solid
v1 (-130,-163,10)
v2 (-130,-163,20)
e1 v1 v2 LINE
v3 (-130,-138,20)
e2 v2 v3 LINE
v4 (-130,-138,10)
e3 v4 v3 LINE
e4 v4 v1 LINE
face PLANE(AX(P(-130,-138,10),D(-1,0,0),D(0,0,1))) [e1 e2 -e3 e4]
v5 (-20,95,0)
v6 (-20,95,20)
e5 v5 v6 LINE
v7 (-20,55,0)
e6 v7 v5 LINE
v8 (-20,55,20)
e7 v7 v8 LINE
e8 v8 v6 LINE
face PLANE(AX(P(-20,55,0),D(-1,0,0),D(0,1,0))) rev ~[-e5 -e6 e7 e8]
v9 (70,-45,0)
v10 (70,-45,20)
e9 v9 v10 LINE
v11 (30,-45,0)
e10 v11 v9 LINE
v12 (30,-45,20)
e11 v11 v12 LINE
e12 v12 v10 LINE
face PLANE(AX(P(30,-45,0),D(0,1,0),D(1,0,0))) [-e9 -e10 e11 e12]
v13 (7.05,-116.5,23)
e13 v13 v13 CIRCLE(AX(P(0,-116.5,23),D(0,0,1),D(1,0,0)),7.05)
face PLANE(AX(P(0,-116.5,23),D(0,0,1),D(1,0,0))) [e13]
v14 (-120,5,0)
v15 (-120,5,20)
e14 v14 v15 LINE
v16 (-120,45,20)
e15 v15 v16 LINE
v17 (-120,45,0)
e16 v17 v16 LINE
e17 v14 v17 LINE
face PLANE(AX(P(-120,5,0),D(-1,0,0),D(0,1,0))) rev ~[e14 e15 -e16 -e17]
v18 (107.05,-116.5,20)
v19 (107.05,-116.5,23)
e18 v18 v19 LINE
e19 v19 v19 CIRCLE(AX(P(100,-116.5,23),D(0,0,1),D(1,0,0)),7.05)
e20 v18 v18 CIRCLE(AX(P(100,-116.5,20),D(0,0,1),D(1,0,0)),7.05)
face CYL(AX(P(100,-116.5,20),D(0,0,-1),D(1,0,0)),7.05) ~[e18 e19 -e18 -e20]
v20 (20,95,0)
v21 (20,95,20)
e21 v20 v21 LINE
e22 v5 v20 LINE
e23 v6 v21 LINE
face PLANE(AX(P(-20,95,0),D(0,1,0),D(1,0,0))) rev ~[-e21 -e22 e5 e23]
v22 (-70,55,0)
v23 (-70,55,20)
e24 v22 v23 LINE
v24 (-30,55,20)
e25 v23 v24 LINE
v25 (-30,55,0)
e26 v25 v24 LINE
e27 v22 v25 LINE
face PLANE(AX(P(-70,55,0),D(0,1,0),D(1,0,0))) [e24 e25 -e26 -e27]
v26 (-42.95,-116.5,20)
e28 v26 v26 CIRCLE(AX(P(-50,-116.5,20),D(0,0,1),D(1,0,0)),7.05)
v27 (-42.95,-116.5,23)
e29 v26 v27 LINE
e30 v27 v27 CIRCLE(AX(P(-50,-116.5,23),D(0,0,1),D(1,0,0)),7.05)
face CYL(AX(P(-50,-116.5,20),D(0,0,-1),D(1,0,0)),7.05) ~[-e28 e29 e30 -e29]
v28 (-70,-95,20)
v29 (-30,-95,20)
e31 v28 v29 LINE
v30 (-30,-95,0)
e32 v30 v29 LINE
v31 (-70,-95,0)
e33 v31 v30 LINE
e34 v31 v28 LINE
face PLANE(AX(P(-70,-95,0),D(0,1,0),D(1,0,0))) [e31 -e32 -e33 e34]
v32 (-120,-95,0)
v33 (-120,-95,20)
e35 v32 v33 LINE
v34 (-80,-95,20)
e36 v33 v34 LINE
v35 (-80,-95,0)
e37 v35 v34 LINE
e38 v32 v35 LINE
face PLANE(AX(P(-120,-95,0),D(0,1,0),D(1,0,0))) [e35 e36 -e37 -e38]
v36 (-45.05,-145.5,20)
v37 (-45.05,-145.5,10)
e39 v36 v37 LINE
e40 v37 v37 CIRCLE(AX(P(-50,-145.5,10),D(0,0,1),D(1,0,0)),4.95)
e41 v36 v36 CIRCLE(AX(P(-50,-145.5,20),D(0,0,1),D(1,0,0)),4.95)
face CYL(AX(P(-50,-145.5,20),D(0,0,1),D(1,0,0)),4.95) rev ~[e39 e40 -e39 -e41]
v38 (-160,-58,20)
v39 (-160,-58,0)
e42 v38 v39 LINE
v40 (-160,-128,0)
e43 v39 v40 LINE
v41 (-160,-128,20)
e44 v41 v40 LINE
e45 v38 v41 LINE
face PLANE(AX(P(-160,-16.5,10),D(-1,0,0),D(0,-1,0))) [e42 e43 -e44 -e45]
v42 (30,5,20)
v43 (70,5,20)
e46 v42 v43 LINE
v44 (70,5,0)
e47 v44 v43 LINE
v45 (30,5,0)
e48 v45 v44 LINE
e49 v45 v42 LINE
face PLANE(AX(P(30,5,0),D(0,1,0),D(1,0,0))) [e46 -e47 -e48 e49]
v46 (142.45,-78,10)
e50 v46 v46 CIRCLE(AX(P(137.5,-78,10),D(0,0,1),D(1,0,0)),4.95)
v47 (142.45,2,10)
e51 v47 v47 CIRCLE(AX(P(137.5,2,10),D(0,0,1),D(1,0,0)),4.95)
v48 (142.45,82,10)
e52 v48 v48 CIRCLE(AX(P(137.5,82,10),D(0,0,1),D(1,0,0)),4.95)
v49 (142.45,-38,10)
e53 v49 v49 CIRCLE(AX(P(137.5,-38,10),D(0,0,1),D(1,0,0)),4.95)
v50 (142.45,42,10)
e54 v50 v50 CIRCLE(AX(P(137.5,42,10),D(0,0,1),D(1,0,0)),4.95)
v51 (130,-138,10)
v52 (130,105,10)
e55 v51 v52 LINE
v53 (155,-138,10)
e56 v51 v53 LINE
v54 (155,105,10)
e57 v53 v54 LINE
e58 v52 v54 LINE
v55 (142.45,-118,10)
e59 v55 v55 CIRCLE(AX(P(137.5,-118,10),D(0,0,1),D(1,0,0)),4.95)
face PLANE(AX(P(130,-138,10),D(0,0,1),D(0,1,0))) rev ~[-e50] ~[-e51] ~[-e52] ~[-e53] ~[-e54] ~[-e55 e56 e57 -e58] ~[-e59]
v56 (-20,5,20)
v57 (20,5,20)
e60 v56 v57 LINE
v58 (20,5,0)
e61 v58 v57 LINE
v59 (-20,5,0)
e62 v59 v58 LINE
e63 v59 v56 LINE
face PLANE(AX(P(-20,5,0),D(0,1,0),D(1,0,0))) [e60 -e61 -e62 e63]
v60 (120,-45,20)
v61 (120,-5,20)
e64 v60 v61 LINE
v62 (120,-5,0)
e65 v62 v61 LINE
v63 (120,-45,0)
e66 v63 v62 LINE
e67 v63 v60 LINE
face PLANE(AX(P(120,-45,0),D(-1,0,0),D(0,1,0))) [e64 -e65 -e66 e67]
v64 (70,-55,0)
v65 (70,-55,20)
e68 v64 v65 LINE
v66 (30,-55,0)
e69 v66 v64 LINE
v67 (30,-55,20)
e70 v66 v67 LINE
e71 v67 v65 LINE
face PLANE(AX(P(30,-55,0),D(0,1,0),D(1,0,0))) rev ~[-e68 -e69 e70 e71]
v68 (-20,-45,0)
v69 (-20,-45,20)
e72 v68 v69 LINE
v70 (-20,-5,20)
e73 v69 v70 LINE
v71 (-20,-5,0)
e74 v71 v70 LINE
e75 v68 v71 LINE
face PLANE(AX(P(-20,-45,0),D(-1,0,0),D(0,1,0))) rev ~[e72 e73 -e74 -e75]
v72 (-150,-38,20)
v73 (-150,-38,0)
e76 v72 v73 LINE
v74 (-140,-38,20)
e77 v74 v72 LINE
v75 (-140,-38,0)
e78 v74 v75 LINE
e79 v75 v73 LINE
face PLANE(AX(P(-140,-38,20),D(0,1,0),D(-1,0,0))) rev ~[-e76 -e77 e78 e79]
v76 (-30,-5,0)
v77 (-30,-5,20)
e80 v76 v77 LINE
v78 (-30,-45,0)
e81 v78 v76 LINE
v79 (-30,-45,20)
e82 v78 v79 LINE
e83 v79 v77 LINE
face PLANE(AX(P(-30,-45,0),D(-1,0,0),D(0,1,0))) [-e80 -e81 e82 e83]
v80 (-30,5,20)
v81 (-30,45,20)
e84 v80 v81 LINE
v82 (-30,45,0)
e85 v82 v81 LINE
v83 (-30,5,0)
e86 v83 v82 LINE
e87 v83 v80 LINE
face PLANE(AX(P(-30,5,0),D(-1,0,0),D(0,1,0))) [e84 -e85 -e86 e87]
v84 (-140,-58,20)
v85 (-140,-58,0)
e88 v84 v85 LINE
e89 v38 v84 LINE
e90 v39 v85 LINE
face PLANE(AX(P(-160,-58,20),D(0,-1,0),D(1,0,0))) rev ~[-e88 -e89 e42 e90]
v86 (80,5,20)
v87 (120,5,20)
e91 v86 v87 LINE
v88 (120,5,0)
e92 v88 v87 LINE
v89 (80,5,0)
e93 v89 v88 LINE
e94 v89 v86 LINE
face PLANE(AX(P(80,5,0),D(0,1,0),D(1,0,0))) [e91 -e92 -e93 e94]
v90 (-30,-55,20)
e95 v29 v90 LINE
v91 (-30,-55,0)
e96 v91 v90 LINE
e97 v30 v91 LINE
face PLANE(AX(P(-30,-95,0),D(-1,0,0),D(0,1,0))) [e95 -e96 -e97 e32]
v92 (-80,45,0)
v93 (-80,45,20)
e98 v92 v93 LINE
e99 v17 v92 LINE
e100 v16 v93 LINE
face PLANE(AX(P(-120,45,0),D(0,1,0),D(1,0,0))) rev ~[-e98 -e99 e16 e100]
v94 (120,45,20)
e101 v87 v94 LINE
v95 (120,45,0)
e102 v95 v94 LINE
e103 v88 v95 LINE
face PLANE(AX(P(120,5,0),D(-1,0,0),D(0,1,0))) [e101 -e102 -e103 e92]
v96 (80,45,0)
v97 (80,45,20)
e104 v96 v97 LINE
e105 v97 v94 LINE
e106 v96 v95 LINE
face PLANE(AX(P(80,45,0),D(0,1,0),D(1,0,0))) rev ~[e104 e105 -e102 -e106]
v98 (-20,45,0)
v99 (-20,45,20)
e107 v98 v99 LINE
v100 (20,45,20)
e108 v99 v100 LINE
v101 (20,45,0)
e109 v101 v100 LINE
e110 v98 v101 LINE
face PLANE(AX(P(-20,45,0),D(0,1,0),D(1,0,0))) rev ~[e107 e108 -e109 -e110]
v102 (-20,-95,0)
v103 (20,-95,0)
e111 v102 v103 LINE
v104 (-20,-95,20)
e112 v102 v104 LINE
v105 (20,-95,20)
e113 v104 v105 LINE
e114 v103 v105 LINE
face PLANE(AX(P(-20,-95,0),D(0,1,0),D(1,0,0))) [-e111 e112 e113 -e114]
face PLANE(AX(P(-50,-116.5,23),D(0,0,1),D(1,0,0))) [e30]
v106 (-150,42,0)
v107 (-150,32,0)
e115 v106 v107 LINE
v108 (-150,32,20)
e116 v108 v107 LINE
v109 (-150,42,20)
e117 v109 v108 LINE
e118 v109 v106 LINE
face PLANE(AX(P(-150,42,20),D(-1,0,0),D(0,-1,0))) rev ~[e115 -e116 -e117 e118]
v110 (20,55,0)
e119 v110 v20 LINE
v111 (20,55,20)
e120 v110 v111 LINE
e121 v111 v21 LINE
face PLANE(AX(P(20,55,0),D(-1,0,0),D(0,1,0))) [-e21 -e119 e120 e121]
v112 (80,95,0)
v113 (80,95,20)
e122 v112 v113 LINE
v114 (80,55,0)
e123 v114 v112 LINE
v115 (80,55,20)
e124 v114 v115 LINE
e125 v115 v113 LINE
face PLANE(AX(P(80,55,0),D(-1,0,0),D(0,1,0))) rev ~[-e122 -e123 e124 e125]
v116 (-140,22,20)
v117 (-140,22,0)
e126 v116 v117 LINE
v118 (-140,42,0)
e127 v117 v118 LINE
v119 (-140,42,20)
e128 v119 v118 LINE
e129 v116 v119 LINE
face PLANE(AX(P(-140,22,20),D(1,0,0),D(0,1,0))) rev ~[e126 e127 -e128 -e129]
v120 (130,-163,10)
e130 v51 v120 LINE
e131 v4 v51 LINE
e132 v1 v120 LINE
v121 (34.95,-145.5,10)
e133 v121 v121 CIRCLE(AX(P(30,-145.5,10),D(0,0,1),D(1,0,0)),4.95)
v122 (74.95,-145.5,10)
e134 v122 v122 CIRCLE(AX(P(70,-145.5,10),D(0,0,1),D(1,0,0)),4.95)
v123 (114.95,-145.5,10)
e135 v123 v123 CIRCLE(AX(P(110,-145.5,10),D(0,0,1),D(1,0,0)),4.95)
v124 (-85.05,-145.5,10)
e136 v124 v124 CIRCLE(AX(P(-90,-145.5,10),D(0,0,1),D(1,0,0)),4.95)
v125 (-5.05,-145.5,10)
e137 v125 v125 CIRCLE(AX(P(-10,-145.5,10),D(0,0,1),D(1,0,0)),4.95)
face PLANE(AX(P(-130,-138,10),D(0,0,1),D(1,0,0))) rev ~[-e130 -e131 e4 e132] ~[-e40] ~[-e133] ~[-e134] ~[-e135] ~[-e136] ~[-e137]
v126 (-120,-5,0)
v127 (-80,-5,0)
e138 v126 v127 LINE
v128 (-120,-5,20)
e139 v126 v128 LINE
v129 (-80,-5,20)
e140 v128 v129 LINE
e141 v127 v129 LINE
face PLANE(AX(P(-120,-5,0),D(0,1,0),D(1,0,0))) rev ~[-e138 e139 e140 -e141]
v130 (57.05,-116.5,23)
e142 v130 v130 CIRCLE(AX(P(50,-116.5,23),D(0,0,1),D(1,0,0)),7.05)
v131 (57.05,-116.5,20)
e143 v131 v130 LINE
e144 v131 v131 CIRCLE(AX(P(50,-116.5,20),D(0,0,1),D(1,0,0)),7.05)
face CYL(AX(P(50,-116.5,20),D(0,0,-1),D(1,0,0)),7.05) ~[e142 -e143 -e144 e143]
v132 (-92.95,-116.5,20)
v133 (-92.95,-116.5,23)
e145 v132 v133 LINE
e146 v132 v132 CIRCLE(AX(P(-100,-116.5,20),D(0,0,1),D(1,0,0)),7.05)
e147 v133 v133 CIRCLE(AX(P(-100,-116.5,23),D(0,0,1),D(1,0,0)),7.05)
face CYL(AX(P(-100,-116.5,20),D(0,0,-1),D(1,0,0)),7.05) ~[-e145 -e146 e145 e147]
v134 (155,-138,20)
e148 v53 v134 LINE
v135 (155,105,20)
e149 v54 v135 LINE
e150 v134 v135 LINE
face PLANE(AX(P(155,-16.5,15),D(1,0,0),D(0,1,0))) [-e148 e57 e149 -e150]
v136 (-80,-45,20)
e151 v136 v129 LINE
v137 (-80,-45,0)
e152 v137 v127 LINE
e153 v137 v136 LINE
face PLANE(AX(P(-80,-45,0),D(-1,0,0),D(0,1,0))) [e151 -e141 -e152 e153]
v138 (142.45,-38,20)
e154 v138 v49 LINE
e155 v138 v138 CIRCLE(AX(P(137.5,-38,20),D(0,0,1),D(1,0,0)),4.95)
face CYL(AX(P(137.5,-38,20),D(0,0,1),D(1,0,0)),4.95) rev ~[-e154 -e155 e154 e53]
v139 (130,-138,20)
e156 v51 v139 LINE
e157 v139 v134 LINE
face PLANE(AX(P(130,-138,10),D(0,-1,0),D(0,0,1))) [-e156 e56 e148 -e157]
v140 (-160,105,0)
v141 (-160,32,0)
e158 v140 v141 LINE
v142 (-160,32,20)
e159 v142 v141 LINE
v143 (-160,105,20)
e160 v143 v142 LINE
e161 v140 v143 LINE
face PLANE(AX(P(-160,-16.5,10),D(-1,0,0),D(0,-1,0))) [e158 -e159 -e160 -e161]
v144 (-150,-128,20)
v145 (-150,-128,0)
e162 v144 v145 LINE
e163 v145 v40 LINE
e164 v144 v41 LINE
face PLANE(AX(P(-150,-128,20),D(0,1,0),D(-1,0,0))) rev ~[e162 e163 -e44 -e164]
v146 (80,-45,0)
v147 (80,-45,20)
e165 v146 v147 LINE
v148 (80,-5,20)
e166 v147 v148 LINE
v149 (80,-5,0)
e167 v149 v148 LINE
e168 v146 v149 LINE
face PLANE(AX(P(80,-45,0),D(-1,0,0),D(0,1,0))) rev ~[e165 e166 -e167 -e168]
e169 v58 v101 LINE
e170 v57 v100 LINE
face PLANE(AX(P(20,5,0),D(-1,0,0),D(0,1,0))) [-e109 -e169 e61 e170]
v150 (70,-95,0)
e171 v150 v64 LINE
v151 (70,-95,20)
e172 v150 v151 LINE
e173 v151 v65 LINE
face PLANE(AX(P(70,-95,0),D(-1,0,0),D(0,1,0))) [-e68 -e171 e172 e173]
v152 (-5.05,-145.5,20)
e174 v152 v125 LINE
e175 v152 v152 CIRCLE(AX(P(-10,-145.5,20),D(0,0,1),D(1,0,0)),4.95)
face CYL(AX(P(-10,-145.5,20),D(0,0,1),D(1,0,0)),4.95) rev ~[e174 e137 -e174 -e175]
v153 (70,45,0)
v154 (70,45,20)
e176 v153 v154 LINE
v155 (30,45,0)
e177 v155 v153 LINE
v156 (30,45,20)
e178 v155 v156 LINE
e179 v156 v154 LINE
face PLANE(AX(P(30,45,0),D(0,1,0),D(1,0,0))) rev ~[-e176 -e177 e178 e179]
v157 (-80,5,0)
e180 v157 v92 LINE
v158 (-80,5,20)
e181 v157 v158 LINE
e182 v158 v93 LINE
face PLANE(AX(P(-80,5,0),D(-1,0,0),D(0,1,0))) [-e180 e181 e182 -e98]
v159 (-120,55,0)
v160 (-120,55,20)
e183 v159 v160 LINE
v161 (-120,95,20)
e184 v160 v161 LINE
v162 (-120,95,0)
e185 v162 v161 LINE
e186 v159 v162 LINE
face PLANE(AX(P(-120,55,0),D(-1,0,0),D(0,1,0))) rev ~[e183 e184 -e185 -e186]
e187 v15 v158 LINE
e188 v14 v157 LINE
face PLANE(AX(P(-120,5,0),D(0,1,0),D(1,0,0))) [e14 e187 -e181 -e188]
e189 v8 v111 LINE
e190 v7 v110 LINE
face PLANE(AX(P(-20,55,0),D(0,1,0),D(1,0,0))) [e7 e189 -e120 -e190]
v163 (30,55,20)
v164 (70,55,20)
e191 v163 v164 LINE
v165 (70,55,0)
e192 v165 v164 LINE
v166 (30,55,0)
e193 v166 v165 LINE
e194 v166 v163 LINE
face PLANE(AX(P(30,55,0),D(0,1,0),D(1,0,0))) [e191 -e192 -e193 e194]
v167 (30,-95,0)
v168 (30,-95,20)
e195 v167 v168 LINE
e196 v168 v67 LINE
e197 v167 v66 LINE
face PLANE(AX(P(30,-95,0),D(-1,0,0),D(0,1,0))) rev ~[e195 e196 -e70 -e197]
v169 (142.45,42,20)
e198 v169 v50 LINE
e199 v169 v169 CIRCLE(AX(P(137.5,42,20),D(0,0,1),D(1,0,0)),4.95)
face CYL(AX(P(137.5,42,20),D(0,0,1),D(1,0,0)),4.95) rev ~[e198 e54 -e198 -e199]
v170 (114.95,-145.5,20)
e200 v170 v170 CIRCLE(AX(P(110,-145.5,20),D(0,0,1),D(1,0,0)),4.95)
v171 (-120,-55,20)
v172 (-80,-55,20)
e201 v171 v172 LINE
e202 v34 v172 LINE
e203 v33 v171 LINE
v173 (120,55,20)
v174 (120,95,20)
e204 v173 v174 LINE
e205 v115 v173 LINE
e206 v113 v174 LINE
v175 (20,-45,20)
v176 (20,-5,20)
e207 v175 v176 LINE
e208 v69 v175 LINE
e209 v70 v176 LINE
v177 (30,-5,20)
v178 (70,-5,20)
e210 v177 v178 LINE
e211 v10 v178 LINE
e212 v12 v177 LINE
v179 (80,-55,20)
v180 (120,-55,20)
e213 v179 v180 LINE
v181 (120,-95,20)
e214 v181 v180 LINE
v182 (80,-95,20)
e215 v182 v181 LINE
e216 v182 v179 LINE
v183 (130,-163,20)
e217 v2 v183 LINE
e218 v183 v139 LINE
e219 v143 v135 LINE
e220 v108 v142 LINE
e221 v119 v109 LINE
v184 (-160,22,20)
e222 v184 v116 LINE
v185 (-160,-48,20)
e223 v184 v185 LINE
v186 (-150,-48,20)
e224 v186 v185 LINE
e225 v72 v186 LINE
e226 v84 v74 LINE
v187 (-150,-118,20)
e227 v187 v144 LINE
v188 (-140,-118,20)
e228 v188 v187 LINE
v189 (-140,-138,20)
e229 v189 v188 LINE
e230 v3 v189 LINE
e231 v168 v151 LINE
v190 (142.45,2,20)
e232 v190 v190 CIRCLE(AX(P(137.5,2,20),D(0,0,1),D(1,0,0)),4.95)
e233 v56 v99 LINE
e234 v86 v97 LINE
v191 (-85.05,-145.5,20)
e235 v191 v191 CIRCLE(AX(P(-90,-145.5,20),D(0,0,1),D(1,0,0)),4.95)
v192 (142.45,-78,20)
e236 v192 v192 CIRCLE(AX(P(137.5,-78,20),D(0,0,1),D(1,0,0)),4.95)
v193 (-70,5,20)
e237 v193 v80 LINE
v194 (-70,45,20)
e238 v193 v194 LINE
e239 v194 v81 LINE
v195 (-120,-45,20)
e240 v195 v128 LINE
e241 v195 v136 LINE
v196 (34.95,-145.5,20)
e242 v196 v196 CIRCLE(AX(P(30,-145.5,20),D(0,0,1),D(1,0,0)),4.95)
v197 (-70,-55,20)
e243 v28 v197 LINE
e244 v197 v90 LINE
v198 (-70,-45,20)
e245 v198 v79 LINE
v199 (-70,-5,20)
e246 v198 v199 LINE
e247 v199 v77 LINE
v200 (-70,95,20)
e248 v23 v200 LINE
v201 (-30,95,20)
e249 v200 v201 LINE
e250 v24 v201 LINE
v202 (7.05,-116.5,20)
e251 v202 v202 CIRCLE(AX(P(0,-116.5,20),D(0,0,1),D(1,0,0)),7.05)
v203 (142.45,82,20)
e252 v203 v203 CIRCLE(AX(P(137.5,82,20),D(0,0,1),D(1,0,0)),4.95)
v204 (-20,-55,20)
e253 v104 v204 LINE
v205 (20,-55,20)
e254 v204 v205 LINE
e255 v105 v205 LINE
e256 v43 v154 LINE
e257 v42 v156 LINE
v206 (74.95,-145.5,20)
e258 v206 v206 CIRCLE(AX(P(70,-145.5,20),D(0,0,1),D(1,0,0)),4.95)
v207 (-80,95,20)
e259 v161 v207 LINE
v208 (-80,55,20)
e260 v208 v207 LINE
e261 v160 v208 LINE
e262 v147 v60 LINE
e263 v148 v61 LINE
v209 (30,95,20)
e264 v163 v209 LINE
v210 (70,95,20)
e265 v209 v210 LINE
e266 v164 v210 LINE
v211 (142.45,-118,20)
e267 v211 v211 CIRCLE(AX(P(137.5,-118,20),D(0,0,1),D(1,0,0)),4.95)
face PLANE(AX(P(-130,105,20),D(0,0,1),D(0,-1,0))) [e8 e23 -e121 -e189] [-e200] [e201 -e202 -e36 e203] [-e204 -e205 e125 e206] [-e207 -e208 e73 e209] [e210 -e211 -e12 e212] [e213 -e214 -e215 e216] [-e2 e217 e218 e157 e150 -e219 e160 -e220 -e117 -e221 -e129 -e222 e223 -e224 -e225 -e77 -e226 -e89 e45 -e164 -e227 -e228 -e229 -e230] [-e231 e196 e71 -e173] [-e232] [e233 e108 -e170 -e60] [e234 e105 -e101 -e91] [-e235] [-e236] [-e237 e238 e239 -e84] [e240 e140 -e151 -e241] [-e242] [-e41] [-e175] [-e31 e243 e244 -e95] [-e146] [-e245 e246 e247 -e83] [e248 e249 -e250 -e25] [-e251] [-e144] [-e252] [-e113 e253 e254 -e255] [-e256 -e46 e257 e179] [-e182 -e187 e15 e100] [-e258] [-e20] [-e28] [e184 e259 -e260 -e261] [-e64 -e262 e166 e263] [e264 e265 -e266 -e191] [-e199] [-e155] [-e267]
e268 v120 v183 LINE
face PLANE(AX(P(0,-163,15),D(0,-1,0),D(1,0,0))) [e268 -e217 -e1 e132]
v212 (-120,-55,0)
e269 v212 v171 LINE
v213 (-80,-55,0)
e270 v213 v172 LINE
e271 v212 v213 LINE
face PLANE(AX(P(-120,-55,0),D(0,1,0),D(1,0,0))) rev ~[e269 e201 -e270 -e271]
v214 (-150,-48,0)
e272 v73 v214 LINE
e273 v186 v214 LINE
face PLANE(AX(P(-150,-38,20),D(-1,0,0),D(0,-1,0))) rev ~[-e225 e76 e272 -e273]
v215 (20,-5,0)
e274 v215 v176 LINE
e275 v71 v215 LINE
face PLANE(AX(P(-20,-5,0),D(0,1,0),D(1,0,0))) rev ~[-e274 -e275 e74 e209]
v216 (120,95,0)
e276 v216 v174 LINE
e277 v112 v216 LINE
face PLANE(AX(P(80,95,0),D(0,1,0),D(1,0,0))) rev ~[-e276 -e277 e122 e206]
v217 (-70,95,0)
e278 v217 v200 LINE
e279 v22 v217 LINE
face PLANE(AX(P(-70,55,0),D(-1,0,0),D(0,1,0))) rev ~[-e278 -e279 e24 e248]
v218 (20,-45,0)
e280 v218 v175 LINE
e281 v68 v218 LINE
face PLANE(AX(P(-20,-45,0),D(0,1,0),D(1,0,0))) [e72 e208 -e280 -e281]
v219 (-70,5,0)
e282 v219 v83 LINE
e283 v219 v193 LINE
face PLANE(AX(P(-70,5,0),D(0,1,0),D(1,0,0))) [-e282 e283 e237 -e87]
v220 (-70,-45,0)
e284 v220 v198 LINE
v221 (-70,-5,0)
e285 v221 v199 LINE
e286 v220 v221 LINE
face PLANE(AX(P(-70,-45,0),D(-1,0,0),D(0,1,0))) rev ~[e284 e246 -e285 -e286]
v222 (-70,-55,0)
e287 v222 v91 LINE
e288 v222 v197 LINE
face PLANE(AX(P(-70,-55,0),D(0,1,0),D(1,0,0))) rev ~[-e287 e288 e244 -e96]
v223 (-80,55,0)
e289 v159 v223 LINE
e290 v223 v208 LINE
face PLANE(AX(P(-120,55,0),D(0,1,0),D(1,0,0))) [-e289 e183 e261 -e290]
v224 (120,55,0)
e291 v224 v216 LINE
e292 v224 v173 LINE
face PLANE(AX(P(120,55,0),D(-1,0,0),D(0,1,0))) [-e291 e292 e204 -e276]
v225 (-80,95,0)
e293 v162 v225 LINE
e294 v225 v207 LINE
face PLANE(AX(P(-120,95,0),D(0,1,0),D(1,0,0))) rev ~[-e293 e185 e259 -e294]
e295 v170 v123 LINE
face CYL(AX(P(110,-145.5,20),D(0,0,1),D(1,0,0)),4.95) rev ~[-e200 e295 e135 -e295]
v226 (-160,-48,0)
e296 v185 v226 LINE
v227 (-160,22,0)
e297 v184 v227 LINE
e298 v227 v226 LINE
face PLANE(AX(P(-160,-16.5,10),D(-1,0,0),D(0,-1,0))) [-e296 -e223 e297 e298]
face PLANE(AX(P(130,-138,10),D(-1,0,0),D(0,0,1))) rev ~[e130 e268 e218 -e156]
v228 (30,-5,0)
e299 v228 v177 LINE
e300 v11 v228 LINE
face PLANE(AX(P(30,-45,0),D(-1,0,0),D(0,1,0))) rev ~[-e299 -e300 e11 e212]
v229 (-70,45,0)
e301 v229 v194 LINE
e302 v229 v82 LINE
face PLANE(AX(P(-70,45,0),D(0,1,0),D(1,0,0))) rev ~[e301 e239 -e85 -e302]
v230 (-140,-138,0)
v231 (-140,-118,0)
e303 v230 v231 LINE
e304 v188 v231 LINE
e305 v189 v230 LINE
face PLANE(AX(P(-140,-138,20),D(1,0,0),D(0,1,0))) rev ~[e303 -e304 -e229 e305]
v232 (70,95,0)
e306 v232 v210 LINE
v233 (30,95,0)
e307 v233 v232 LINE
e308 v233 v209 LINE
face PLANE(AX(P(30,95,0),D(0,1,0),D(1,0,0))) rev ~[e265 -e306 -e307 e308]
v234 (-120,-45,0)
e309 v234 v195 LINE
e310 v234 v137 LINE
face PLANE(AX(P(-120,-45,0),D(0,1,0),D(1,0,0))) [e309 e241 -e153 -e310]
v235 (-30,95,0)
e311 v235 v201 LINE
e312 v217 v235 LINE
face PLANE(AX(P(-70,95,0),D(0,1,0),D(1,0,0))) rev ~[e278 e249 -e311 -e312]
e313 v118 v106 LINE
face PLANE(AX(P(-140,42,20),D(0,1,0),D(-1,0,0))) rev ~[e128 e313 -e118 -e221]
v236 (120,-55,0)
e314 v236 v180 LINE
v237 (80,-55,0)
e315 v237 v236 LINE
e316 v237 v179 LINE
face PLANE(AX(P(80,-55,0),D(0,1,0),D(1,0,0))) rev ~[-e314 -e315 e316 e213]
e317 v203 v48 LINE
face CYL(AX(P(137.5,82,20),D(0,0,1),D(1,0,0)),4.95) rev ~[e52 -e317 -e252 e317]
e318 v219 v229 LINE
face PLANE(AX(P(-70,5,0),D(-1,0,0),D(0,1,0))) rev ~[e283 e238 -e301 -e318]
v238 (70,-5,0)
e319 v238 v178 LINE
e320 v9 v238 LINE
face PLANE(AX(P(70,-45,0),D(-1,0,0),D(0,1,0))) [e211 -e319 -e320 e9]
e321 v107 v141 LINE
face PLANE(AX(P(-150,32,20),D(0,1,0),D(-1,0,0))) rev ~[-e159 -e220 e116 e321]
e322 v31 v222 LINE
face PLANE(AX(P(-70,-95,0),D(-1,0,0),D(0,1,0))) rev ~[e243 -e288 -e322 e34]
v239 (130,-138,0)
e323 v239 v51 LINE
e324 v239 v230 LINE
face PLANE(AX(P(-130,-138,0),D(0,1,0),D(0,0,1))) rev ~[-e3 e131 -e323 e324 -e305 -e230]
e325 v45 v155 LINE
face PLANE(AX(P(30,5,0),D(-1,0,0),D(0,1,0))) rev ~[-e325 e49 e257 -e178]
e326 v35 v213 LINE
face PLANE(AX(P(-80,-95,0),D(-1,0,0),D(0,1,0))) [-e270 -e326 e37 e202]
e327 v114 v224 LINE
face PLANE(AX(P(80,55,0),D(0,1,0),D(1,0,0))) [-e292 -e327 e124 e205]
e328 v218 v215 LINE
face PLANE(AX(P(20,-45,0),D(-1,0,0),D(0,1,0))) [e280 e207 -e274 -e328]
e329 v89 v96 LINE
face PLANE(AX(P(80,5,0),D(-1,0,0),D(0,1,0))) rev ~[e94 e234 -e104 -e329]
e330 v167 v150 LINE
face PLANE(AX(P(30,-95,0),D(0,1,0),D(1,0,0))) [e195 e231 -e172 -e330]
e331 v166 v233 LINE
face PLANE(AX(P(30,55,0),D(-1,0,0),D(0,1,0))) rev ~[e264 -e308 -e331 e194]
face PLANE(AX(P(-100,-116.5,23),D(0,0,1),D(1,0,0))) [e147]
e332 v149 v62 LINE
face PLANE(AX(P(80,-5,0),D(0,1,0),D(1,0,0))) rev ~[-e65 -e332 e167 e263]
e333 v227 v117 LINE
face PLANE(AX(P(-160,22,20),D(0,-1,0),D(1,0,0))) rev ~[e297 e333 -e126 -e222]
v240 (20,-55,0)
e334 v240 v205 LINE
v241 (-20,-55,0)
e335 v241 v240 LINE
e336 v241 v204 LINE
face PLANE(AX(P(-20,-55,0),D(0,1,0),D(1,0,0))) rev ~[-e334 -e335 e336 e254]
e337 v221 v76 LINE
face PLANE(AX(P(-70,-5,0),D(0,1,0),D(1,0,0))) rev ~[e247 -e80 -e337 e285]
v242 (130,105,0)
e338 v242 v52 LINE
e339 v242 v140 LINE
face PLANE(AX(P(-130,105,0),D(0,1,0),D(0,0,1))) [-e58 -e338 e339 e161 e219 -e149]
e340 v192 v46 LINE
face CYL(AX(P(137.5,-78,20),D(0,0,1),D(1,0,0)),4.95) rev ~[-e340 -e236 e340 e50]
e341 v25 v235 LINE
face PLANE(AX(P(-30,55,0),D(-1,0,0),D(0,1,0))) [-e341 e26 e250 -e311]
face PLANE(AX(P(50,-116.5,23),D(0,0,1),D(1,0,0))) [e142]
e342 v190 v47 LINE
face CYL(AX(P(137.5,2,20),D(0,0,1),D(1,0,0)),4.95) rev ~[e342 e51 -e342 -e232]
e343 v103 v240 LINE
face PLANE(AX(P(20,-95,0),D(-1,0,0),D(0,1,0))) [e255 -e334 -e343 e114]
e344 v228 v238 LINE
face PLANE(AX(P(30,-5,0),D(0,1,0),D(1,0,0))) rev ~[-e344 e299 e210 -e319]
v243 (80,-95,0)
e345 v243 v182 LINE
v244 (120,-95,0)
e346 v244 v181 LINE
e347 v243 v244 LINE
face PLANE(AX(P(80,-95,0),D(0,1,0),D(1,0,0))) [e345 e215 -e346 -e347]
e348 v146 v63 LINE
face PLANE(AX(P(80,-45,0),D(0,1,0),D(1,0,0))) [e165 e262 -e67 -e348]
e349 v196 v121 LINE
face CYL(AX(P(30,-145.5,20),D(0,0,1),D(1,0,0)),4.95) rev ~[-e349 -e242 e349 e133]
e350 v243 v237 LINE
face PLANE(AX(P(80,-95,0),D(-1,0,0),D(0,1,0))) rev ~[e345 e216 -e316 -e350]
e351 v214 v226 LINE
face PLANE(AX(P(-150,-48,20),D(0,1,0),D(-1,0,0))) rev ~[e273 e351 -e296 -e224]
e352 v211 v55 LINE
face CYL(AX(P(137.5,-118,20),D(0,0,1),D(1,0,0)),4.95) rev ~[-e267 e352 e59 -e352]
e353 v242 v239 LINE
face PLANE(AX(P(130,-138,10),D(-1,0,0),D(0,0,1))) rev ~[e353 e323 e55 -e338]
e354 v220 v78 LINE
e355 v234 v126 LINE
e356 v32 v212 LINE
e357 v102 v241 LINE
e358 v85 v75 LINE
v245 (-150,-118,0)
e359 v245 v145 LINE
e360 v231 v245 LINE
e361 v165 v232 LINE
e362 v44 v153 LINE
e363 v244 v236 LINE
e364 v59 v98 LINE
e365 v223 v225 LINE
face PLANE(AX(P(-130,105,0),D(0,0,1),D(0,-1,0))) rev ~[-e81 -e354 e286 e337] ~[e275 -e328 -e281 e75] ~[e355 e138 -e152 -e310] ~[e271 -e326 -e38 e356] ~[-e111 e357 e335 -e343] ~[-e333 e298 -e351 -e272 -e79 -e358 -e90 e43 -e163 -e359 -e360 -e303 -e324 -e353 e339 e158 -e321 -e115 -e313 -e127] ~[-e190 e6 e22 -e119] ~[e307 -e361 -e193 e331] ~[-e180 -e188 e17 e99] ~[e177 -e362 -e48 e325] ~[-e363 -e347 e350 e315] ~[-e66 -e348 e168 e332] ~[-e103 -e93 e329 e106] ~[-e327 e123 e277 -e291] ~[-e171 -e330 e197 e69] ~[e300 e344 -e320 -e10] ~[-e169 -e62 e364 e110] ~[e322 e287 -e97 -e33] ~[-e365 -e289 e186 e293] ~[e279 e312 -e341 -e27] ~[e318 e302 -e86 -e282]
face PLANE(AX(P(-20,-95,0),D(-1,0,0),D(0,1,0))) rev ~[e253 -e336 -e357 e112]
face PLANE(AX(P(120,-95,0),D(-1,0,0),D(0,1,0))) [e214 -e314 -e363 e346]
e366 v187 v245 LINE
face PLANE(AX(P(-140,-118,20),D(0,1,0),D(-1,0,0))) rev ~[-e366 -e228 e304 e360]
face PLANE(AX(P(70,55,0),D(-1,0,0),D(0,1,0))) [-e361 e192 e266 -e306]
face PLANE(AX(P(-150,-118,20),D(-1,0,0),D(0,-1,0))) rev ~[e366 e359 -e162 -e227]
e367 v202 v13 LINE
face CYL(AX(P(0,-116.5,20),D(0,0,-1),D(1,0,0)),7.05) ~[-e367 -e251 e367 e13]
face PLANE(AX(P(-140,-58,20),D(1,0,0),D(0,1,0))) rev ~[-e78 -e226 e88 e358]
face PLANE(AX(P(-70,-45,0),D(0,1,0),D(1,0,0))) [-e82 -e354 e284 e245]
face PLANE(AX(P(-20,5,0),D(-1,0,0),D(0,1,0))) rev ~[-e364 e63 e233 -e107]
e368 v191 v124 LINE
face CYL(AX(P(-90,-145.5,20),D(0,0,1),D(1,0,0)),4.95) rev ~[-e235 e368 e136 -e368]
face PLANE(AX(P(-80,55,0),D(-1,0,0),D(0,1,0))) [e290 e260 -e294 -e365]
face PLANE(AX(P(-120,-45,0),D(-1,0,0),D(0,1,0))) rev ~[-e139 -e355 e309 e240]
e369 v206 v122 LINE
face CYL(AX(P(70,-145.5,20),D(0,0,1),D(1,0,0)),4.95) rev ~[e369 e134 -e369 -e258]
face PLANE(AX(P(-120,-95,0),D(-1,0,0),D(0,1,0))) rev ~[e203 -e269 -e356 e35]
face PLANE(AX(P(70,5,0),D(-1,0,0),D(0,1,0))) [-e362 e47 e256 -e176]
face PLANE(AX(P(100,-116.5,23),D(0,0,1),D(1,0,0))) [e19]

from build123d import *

# Parameters (mm, degrees)
F0_W      = 260
F0_H      = 210
F0_W_2    = 40
F0_H_2    = 40
F1_DEPTH  = 20
F1_FACE_W = 260
F1_FACE_H = 20
F2_DEPTH  = 33
F3_W      = 260
F3_H      = 10
F4_DEPTH  = 25
F5_R      = 4.95
F6_DEPTH  = 25
F7_W      = 243
F7_H      = 10
F8_DEPTH  = 25
F9_R      = 4.95
F10_DEPTH = 25
F11_W     = 243
F11_H     = 20
F12_DEPTH = 30
F14_DEPTH = 25
F15_R     = 7.05
F16_DEPTH = 3


with BuildPart() as f1:
    # F0 (on Top) → F1 (new body)
    with BuildSketch(Plane.XY):
        Rectangle(F0_W, F0_H)
        with Locations((-100, -75)):
            Rectangle(F0_W_2, F0_H_2, mode=Mode.SUBTRACT)
        with Locations((-50, -75)):
            Rectangle(F0_W_2, F0_H_2, mode=Mode.SUBTRACT)
        with Locations((-100, -25)):
            Rectangle(F0_W_2, F0_H_2, mode=Mode.SUBTRACT)
        with Locations((-50, -25)):
            Rectangle(F0_W_2, F0_H_2, mode=Mode.SUBTRACT)
        with Locations((0, -75)):
            Rectangle(F0_W_2, F0_H_2, mode=Mode.SUBTRACT)
        with Locations((50, -75)):
            Rectangle(F0_W_2, F0_H_2, mode=Mode.SUBTRACT)
        with Locations((100, -75)):
            Rectangle(F0_W_2, F0_H_2, mode=Mode.SUBTRACT)
        with Locations((0, -25)):
            Rectangle(F0_W_2, F0_H_2, mode=Mode.SUBTRACT)
        with Locations((50, -25)):
            Rectangle(F0_W_2, F0_H_2, mode=Mode.SUBTRACT)
        with Locations((100, -25)):
            Rectangle(F0_W_2, F0_H_2, mode=Mode.SUBTRACT)
        with Locations((-100, 25)):
            Rectangle(F0_W_2, F0_H_2, mode=Mode.SUBTRACT)
        with Locations((-50, 25)):
            Rectangle(F0_W_2, F0_H_2, mode=Mode.SUBTRACT)
        with Locations((-100, 75)):
            Rectangle(F0_W_2, F0_H_2, mode=Mode.SUBTRACT)
        with Locations((-50, 75)):
            Rectangle(F0_W_2, F0_H_2, mode=Mode.SUBTRACT)
        with Locations((0, 25)):
            Rectangle(F0_W_2, F0_H_2, mode=Mode.SUBTRACT)
        with Locations((50, 25)):
            Rectangle(F0_W_2, F0_H_2, mode=Mode.SUBTRACT)
        with Locations((100, 25)):
            Rectangle(F0_W_2, F0_H_2, mode=Mode.SUBTRACT)
        with Locations((0, 75)):
            Rectangle(F0_W_2, F0_H_2, mode=Mode.SUBTRACT)
        with Locations((50, 75)):
            Rectangle(F0_W_2, F0_H_2, mode=Mode.SUBTRACT)
        with Locations((100, 75)):
            Rectangle(F0_W_2, F0_H_2, mode=Mode.SUBTRACT)
    extrude(amount=F1_DEPTH)

    # F1_face (on face) → F2 (join)
    with BuildSketch(Plane(origin=(0, -105, 10), x_dir=(1, 0, 0), z_dir=(0, -1, 0))):
        Rectangle(F1_FACE_W, F1_FACE_H)
    extrude(amount=F2_DEPTH)

    # F3 (on face) → F4 (join)
    with BuildSketch(Plane.XZ.offset(138)):
        with Locations((0, 15)):
            Rectangle(F3_W, F3_H)
    extrude(amount=F4_DEPTH)

    # F5 (on face) → F6 (cut)
    with BuildSketch(Plane.XY.offset(20)):
        with Locations((110, -145.5)):
            Circle(F5_R)
        with Locations((70, -145.5)):
            Circle(F5_R)
        with Locations((30, -145.5)):
            Circle(F5_R)
        with Locations((-10, -145.5)):
            Circle(F5_R)
        with Locations((-50, -145.5)):
            Circle(F5_R)
        with Locations((-90, -145.5)):
            Circle(F5_R)
    extrude(amount=-F6_DEPTH, mode=Mode.SUBTRACT)

    # F7 (on face) → F8 (join)
    with BuildSketch(Plane.YZ.offset(130)):
        with Locations((-16.5, 15)):
            Rectangle(F7_W, F7_H)
    extrude(amount=F8_DEPTH)

    # F9 (on face) → F10 (cut)
    with BuildSketch(Plane.XY.offset(20)):
        with Locations((137.5, -118)):
            Circle(F9_R)
        with Locations((137.5, -78)):
            Circle(F9_R)
        with Locations((137.5, -38)):
            Circle(F9_R)
        with Locations((137.5, 2)):
            Circle(F9_R)
        with Locations((137.5, 42)):
            Circle(F9_R)
        with Locations((137.5, 82)):
            Circle(F9_R)
    extrude(amount=-F10_DEPTH, mode=Mode.SUBTRACT)

    # F11 (on face) → F12 (join)
    with BuildSketch(Plane(origin=(-130, 0, 0), x_dir=(0, -1, 0), z_dir=(-1, 0, 0))):
        with Locations((16.5, 10)):
            Rectangle(F11_W, F11_H)
    extrude(amount=F12_DEPTH)

    # F13 (on face) → F14 (cut)
    with BuildSketch(Plane.XY.offset(20)):
        Polygon((-160, -128), (-160, -138), (-140, -138), (-140, -118), (-150, -118), (-150, -128), align=None)
        Polygon((-140, -58), (-140, -38), (-150, -38), (-150, -48), (-160, -48), (-160, -58), align=None)
        Polygon((-140, 22), (-140, 42), (-150, 42), (-150, 32), (-160, 32), (-160, 22), align=None)
    extrude(amount=-F14_DEPTH, mode=Mode.SUBTRACT)

    # F15 (on face) → F16 (join)
    with BuildSketch(Plane.XY.offset(20)):
        with Locations((100, -116.5)):
            Circle(F15_R)
        with Locations((50, -116.5)):
            Circle(F15_R)
        with Locations((0, -116.5)):
            Circle(F15_R)
        with Locations((-50, -116.5)):
            Circle(F15_R)
        with Locations((-100, -116.5)):
            Circle(F15_R)
    extrude(amount=F16_DEPTH)


solid = f1.part
